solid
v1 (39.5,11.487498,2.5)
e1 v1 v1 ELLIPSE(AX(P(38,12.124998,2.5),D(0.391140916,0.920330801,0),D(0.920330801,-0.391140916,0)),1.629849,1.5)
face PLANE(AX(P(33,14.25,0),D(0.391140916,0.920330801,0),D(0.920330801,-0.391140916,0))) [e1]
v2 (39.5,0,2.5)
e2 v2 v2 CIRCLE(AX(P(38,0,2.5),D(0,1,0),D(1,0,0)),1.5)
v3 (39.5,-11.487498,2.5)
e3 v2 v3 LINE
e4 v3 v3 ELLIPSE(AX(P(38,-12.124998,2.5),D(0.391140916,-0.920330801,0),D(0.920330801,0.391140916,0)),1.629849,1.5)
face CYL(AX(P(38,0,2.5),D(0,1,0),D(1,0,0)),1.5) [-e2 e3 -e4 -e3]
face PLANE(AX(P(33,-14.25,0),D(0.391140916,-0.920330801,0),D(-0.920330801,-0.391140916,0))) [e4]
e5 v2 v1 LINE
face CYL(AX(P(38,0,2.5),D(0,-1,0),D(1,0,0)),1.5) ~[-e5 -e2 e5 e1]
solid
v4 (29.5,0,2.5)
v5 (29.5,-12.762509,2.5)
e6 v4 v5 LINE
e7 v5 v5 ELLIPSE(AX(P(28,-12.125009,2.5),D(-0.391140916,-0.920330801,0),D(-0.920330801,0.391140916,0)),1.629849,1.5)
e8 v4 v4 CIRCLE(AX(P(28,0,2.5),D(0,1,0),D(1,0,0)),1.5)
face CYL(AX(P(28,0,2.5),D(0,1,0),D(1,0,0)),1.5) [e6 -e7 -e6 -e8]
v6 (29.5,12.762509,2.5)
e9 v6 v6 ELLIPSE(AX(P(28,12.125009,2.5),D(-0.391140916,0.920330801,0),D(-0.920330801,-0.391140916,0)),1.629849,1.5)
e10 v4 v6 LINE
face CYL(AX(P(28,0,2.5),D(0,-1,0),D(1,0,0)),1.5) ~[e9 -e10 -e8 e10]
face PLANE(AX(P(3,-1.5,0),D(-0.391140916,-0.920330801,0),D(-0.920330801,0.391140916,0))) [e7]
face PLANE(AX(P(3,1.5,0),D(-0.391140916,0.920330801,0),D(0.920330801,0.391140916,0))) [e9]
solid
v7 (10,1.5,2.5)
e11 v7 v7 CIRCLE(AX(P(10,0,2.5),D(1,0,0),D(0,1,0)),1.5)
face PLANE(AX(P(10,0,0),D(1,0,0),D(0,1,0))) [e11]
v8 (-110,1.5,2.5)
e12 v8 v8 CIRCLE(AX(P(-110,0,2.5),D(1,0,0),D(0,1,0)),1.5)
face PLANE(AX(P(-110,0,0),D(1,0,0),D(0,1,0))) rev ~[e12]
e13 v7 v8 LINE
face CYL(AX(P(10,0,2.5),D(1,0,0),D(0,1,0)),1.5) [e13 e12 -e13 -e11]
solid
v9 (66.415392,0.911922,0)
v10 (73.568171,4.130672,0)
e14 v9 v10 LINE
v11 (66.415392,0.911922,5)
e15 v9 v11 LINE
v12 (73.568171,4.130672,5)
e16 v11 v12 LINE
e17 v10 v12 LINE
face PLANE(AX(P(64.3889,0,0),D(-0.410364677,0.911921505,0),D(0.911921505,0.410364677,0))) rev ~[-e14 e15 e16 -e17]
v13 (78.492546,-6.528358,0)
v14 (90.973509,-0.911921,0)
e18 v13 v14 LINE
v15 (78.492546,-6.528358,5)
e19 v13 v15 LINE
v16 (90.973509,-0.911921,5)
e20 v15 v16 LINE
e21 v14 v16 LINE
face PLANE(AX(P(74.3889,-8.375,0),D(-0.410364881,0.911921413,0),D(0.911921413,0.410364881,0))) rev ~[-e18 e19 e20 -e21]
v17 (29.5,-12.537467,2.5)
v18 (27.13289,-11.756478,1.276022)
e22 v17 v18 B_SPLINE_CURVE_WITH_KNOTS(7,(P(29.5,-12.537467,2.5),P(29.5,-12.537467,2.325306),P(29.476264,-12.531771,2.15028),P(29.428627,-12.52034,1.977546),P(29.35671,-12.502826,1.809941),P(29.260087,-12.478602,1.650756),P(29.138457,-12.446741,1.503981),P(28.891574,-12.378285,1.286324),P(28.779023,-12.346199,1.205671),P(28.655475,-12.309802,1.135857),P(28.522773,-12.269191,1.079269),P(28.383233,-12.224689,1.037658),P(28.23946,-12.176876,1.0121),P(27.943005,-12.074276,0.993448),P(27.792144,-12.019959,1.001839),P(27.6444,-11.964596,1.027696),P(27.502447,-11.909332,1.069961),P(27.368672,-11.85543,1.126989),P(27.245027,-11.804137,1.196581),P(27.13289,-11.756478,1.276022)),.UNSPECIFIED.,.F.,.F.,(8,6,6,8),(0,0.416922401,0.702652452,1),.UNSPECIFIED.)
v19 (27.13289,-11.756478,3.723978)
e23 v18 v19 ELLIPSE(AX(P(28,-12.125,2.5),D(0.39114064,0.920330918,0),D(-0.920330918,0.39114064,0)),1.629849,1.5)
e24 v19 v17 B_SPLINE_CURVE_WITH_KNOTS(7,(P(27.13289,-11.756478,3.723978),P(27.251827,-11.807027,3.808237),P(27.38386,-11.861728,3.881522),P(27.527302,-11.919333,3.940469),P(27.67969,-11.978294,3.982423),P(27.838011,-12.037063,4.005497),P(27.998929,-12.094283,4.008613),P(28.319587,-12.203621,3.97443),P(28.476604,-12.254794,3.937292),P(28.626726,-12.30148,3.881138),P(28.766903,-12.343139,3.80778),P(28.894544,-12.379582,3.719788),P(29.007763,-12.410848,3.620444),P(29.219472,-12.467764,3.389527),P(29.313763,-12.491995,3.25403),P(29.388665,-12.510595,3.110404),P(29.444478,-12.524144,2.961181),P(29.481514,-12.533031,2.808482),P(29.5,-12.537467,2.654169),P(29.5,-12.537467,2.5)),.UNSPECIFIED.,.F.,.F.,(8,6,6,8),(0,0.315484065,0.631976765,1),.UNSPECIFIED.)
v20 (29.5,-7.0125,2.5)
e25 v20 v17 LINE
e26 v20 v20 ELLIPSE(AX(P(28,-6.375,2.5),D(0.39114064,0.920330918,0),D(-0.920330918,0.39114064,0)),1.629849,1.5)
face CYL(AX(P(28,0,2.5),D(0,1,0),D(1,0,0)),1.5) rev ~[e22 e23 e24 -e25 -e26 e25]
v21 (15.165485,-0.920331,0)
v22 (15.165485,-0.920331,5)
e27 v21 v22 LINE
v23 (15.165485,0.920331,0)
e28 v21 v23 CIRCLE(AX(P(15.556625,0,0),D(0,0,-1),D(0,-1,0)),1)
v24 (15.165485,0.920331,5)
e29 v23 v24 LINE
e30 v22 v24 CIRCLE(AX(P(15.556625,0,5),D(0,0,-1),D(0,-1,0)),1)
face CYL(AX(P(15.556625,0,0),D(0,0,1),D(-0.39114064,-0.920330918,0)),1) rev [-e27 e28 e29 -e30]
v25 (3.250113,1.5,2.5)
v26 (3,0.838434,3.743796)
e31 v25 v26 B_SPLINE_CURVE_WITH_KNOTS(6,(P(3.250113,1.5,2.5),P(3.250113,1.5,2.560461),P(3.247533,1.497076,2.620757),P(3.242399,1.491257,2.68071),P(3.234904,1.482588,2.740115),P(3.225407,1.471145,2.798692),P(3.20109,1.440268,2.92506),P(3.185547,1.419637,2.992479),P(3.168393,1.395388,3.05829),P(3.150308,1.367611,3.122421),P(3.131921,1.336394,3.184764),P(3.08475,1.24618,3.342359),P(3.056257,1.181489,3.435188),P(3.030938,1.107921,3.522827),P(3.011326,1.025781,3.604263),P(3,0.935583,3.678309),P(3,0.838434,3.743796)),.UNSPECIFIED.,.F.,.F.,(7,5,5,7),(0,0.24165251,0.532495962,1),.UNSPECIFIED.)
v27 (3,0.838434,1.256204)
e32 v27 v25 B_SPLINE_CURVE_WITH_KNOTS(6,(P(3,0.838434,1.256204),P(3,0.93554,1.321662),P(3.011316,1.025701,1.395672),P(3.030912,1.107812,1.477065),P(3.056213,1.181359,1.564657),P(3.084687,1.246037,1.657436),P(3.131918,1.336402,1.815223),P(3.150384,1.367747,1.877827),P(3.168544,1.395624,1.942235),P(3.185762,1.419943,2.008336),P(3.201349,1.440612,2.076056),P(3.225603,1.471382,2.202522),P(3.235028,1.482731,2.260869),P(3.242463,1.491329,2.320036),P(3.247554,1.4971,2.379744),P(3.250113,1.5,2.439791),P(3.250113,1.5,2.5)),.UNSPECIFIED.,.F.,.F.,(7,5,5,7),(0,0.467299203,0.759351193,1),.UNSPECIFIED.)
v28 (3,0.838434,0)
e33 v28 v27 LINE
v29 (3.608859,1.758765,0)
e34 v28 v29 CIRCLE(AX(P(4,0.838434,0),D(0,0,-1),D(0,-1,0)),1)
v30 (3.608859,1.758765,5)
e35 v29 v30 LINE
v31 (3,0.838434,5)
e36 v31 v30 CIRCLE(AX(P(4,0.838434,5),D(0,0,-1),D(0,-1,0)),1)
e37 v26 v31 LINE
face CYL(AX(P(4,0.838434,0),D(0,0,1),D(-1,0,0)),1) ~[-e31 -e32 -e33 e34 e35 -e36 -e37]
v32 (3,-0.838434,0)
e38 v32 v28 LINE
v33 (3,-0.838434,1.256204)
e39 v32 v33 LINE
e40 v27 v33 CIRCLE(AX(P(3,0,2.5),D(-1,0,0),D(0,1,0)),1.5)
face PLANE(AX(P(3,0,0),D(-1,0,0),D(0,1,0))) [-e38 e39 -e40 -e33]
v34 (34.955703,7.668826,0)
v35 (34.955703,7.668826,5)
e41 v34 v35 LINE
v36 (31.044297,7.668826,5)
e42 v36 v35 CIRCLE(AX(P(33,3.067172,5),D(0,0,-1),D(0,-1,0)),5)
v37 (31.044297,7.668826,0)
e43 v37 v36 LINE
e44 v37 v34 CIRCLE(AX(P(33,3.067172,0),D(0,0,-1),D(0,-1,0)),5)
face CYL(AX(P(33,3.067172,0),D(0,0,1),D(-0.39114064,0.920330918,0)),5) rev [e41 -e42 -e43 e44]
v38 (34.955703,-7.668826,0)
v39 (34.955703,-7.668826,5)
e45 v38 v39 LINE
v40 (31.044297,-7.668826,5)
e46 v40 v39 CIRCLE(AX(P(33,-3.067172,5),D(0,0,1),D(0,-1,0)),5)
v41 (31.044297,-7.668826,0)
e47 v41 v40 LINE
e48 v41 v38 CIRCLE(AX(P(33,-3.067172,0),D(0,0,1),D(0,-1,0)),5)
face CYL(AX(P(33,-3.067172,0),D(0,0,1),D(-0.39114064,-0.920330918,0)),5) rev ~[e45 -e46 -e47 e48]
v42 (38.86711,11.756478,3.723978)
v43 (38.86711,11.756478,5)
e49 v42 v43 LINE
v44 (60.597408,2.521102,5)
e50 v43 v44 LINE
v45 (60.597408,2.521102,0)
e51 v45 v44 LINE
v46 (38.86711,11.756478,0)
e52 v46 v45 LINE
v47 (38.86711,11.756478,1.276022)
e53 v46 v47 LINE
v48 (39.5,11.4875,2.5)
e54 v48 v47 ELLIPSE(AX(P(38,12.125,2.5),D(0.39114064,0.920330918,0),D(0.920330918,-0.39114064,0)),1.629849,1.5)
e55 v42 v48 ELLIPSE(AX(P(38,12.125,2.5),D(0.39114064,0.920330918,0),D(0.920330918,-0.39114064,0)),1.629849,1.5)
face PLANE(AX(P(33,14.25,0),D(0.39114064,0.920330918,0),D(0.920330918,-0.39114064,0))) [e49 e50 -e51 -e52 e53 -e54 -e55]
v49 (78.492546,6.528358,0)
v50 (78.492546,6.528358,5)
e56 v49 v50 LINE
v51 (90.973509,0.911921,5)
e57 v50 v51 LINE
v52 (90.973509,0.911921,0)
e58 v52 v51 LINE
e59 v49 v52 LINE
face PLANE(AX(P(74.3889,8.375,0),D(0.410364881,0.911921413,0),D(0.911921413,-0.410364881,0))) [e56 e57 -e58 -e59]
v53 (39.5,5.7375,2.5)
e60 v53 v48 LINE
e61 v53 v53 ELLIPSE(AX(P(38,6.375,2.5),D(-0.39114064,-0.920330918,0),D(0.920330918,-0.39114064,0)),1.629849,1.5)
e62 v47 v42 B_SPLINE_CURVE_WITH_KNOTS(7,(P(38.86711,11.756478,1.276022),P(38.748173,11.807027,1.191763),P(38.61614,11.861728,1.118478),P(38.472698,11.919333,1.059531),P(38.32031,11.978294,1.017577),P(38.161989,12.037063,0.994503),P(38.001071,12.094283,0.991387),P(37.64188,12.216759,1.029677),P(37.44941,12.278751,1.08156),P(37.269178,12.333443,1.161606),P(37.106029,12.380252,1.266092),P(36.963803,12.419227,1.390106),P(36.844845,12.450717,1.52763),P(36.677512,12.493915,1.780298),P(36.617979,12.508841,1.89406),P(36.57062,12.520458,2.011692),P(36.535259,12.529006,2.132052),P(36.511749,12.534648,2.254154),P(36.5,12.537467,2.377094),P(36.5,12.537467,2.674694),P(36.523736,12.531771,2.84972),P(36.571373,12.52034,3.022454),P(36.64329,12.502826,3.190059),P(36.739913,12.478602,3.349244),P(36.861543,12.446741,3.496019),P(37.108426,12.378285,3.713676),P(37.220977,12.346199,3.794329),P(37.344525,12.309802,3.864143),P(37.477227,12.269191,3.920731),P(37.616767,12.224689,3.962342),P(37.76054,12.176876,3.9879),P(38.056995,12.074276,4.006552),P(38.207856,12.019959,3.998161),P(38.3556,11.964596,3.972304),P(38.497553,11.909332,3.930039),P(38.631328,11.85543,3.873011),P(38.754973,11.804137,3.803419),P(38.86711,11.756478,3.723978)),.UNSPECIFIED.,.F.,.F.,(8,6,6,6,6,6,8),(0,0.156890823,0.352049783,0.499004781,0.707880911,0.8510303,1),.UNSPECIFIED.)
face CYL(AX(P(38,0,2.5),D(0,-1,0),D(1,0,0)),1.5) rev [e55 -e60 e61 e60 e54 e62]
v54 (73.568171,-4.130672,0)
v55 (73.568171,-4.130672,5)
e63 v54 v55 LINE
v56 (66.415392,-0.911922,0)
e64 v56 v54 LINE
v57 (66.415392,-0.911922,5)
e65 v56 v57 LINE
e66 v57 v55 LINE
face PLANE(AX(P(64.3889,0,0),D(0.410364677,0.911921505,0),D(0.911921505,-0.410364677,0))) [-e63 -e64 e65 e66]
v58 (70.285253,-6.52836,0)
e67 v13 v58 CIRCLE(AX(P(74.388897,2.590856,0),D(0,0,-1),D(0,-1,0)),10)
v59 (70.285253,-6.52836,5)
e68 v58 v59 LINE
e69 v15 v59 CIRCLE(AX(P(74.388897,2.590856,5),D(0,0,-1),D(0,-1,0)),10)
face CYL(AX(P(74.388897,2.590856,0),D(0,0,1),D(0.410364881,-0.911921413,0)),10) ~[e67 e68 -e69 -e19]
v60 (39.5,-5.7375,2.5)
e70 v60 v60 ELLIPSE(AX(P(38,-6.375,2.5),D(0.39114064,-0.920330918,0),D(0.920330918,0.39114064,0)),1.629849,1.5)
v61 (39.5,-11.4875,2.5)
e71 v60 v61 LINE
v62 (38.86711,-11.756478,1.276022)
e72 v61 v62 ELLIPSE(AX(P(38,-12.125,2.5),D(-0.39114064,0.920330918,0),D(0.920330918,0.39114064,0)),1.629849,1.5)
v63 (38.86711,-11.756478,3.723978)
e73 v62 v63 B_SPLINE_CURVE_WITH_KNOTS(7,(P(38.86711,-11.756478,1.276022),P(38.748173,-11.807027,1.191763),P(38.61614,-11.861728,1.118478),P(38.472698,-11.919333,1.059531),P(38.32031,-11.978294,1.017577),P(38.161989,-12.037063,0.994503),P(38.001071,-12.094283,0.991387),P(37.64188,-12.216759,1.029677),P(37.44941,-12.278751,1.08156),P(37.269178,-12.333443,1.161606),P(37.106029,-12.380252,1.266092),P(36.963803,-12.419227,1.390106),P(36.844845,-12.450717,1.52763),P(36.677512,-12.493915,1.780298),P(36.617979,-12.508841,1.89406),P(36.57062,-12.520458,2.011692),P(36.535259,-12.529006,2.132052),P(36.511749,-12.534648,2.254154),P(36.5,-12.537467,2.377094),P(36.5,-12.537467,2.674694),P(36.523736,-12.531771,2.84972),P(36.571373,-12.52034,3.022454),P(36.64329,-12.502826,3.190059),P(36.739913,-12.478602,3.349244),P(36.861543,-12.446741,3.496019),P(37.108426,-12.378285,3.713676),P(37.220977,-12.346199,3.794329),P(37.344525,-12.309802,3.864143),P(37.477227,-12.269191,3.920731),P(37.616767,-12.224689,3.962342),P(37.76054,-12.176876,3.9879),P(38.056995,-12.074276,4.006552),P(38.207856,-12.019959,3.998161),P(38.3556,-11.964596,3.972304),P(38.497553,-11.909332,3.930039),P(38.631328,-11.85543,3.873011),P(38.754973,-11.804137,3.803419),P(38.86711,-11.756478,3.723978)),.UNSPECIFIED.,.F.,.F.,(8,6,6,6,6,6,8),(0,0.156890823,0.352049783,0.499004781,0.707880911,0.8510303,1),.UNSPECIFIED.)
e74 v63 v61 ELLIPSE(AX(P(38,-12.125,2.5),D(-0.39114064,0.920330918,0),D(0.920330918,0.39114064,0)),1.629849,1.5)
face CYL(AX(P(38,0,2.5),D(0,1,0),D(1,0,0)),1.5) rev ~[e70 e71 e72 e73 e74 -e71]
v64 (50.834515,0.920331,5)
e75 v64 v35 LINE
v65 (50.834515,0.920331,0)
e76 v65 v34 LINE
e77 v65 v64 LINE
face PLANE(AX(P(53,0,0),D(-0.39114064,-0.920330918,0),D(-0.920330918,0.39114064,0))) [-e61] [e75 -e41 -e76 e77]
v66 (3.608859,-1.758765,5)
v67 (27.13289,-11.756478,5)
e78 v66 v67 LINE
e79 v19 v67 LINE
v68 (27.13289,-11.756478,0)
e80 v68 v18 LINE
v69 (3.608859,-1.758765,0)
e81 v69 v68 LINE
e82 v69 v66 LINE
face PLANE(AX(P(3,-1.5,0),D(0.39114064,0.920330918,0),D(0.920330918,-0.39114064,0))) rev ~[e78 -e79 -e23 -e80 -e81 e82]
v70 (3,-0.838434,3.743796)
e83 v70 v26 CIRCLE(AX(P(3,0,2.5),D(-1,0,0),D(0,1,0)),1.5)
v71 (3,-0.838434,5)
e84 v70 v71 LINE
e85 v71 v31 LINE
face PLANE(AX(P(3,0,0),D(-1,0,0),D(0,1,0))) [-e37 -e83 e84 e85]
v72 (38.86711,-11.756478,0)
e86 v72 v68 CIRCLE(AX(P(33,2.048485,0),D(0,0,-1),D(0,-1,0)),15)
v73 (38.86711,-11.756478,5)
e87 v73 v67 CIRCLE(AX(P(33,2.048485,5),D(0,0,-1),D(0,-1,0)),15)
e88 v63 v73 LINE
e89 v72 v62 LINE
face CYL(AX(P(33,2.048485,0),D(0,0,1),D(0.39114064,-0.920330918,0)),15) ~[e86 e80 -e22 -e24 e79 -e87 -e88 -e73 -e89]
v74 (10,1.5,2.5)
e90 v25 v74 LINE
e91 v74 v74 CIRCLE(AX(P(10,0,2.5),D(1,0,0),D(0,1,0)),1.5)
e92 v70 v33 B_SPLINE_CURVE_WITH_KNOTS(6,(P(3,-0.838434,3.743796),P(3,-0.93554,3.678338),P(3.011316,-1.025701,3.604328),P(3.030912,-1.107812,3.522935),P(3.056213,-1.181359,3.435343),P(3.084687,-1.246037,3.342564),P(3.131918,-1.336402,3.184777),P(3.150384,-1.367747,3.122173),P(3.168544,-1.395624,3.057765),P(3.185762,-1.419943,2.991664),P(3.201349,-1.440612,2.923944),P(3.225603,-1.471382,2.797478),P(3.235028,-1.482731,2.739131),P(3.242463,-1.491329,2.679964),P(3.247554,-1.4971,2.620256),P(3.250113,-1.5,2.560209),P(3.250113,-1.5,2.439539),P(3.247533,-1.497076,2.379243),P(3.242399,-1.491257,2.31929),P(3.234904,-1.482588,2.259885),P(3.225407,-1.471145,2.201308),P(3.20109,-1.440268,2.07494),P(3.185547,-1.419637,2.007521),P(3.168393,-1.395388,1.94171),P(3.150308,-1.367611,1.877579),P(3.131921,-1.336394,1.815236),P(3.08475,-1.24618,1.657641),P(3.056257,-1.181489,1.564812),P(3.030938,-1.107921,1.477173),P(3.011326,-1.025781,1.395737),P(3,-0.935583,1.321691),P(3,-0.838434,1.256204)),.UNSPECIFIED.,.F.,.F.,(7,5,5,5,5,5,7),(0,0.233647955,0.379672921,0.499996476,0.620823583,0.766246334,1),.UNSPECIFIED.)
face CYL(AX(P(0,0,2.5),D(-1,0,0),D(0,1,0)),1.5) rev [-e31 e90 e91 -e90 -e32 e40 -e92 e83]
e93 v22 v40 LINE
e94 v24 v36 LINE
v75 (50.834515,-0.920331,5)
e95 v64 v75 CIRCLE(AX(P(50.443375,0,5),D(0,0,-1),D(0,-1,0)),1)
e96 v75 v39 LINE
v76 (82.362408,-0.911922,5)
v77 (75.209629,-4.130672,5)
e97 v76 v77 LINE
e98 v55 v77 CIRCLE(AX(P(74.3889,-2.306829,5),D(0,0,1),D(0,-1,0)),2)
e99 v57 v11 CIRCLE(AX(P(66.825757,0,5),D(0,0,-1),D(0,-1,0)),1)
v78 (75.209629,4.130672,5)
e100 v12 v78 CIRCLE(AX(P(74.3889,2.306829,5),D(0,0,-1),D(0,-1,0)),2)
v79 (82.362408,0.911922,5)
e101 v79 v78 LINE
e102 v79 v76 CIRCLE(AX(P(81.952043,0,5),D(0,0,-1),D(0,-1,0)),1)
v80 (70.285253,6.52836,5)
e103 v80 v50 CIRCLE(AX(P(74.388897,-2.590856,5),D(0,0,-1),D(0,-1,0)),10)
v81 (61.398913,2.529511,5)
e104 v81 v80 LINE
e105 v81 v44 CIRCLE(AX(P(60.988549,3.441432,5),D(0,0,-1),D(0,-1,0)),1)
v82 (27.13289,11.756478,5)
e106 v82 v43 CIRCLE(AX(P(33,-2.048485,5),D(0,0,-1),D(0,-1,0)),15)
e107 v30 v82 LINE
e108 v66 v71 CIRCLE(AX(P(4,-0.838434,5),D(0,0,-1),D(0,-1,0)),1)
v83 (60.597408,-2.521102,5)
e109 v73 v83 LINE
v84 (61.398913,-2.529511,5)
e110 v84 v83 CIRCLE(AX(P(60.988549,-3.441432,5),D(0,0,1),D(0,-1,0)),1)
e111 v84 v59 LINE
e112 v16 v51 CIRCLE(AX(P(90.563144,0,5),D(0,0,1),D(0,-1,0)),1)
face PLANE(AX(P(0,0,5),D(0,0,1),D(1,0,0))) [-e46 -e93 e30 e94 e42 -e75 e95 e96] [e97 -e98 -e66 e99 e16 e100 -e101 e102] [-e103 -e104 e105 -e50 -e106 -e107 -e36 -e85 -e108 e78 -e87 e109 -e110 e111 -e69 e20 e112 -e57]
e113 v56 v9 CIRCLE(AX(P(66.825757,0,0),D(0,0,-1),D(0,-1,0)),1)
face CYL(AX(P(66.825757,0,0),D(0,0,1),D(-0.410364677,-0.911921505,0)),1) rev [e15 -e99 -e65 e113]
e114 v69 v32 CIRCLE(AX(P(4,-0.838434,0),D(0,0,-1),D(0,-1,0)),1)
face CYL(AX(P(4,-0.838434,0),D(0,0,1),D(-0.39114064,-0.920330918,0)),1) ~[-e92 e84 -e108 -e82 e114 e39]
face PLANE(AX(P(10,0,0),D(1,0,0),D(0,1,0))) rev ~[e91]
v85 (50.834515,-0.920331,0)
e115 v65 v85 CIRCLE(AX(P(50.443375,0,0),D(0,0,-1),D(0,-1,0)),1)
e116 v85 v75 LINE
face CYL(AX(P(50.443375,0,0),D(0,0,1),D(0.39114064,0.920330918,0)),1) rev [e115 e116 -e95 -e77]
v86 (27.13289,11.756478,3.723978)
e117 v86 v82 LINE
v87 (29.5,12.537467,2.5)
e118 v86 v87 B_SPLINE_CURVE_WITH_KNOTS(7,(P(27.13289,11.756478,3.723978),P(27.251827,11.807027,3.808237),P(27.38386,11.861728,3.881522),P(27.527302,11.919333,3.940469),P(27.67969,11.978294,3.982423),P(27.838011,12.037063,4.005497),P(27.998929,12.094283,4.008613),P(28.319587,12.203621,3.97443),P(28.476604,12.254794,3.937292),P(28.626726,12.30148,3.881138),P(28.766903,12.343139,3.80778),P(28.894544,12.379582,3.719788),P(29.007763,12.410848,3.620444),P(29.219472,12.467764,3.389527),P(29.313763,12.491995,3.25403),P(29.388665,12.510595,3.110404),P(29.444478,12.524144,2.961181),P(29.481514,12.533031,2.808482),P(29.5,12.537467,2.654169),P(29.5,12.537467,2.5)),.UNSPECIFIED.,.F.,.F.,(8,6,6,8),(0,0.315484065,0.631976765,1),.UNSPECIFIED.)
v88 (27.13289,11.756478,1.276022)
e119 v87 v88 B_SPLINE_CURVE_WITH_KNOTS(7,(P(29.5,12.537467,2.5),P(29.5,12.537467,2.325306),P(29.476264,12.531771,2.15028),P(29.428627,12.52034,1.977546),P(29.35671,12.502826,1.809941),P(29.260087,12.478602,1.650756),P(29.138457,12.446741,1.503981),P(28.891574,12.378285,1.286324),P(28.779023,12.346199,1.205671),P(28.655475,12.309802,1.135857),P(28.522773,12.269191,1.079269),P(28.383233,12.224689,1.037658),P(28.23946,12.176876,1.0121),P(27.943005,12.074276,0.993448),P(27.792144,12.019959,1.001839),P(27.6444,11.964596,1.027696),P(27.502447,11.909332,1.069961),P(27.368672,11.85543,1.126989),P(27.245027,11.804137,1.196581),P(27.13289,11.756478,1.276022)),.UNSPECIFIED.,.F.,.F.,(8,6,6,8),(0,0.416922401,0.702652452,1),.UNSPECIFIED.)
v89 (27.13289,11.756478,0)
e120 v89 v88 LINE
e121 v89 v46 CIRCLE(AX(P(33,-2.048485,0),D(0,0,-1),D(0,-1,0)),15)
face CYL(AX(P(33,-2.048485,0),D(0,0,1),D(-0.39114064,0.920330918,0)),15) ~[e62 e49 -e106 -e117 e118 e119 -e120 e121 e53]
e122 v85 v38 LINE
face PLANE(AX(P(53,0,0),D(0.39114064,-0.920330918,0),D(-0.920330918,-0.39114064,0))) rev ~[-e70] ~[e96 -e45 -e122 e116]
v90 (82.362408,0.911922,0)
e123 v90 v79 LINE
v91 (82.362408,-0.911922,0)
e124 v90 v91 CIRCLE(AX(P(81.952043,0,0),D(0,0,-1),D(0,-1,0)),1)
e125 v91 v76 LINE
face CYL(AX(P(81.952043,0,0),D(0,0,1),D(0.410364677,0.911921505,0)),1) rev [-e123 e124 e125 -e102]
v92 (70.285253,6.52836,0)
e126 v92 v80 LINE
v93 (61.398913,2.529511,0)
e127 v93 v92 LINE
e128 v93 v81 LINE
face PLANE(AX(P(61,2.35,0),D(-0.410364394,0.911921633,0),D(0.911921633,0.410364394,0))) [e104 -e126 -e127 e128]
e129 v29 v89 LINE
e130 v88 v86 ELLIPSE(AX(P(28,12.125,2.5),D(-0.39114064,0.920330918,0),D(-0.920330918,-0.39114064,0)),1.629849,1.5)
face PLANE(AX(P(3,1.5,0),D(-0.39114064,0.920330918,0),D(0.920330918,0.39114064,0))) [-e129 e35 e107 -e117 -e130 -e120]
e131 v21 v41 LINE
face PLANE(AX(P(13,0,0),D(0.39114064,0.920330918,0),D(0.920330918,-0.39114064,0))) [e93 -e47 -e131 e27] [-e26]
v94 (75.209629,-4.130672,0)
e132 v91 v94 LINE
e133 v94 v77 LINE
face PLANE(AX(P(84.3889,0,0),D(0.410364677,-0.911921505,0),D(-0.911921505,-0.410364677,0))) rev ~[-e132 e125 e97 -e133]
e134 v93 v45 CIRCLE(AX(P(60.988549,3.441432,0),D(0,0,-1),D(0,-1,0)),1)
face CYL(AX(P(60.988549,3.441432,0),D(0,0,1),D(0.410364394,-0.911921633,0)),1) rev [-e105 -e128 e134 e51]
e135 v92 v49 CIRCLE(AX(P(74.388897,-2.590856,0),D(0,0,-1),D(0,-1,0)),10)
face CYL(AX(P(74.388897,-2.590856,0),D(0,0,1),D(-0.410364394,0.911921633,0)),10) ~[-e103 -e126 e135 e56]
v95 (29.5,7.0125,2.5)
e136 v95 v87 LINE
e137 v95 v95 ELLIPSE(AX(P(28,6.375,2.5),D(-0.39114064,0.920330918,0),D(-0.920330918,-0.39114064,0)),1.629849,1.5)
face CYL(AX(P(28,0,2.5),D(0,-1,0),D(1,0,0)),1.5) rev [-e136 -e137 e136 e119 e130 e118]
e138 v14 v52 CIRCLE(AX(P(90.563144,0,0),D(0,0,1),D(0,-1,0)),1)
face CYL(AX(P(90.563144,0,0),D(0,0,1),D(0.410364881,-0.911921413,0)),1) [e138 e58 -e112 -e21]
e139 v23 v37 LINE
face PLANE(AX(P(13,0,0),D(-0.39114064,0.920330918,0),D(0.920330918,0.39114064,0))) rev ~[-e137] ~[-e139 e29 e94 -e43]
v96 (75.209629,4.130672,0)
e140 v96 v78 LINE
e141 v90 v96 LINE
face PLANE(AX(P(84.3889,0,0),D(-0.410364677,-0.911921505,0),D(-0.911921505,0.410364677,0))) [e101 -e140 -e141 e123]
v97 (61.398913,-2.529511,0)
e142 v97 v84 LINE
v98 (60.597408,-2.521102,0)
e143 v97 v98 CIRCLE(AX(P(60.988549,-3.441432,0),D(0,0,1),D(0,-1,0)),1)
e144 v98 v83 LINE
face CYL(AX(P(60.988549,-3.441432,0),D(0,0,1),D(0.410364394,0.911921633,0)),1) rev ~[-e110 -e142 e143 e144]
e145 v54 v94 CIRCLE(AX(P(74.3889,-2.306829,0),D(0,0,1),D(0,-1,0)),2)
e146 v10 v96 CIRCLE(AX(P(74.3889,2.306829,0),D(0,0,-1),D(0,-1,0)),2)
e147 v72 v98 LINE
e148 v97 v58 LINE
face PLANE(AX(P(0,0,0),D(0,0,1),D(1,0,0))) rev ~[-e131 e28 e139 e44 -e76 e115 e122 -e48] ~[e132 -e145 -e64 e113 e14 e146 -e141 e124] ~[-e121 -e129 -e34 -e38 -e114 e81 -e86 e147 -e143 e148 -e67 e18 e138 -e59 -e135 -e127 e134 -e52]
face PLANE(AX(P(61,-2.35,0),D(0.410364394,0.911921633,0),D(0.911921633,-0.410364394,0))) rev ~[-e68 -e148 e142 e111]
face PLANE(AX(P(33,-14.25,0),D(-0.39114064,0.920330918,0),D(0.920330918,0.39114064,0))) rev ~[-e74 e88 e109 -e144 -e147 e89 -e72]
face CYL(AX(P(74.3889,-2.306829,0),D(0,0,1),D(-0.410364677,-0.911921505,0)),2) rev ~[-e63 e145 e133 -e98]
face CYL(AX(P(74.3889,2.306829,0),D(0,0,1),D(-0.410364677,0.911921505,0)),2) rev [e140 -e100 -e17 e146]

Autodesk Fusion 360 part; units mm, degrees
sketch "スケッチ1" plane through (0, 0, 0) normal (0, 0, 1) x (1, 0, 0)
  line L0 (0, 0) -> (210, 0) construction
  dimension "d1" = 210
sketch "スケッチ1 (2)" plane through (0, 0, 0) normal (0, 0, 1) x (1, 0, 0) in component "decoration"
  line L0 (0, 0) -> (93, 0) construction
  line L1 (33, 14.25) -> (33, -8.5) construction
  line L2 (13, 0) -> (33, 8.5)
  line L3 (13, 0) -> (33, -8.5)
  line L4 (53, 0) -> (33, 8.5)
  line L5 (53, 0) -> (33, -8.5)
  line L6 (3, 0) -> (3, 1.5)
  line L7 (3, 1.5) -> (33, 14.25)
  line L8 (74.3889, 8.375) -> (74.3889, -4.5) construction
  line L9 (64.3889, 0) -> (74.3889, 4.5)
  line L10 (64.3889, 0) -> (74.3889, -4.5)
  line L11 (84.3889, 0) -> (74.3889, 4.5)
  line L12 (84.3889, 0) -> (74.3889, -4.5)
  line L13 (33, 14.25) -> (61, 2.35)
  line L14 (61, 0) -> (61, 2.35) construction
  line L15 (61, 2.35) -> (74.3889, 8.375)
  line L16 (74.3889, 8.375) -> (93, 0)
  line L17 (3, 0) -> (3, -1.5)
  line L18 (3, -1.5) -> (33, -14.25)
  line L19 (33, -14.25) -> (61, -2.35)
  line L20 (61, -2.35) -> (74.3889, -8.375)
  line L21 (74.3889, -8.375) -> (93, 0)
  dimension "d4" = 93
  dimension "d5" = 17
  dimension "d6" = 13
  dimension "d7" = 20
  dimension "d8" = 1.5
  dimension "d9" = 3
  dimension "d10" = 9
  dimension "d12" = 10
  dimension "d14" = 8
extrude "押し出し2" add sketch "スケッチ1 (2)" along normal blind 5 makes body 1 in component "decoration"
fillet "フィレット1" radius 15 2 edges at (33, -14.25, 2.5) (33, 14.25, 2.5) on bodies 1 in component "decoration"
fillet "フィレット2" radius 10 2 edges at (74.3889, 8.375, 2.5) (74.3889, -8.375, 2.5) on bodies 1 in component "decoration"
fillet "フィレット3" radius 1 1 edges at (93, 0, 2.5) on bodies 1 in component "decoration"
fillet "フィレット4" radius 1 2 edges at (84.3889, 0, 2.5) (64.3889, 0, 2.5) on bodies 1 in component "decoration"
fillet "フィレット5" radius 2 2 edges at (74.3889, 4.5, 2.5) (74.3889, -4.5, 2.5) on bodies 1 in component "decoration"
fillet "フィレット6" radius 1 2 edges at (13, 0, 2.5) (53, 0, 2.5) on bodies 1 in component "decoration"
fillet "フィレット7" radius 5 2 edges at (33, 8.5, 2.5) (33, -8.5, 2.5) on bodies 1 in component "decoration"
fillet "フィレット8" radius 1 1 edges at (61, 2.35, 2.5) on bodies 1 in component "decoration"
fillet "フィレット8" radius 1 1 edges at (61, -2.35, 2.5) on bodies 1 in component "decoration"
fillet "フィレット9" radius 1 2 edges at (3, -1.5, 2.5) (3, 1.5, 2.5) on bodies 1 in component "decoration"
sketch "スケッチ4" plane through (0, 0, 0) normal (0, 1, 0) x (1, 0, 0) in component "decoration"
  line L0 (0, 0) -> (33, 0) construction
  line L1 (33, 0) -> (33, -2.5) construction
  line L2 (28, -2.5) -> (38, -2.5) construction
  circle A0 centre (28, -2.5) radius 1.5
  circle A1 centre (38, -2.5) radius 1.5
  dimension "d44" = 2.5
  dimension "d45" = 33
  dimension "d46" = 10
  dimension "d47" = 3
  dimension "d48" = 3
extrude "押し出し3" cut sketch "スケッチ4" against normal blind 18 bodies 1 in component "decoration"
extrude "押し出し4" cut sketch "スケッチ4" along normal blind 22 bodies 1 in component "decoration"
extrude "押し出し1" add sketch "スケッチ4" along normal up to surface separate body contours A0 end surface through (3, -1.5, 0) normal (-0.391141, -0.920331, 0) offset 0 makes body 2 in component "center piller"
extrude "押し出し2'" add sketch "スケッチ4" along normal up to surface separate body contours A1 end surface through (33, -14.25, 0) normal (0.391141, -0.920331, 0) offset 0 makes body 3 in component "center piller"
extrude "押し出し3'" add sketch "スケッチ4" along normal up to surface contours A0 end surface through (3, 1.5, 0) normal (-0.391141, 0.920331, 0) offset 0 bodies 2 in component "center piller"
extrude "押し出し4'" add sketch "スケッチ4" along normal up to surface contours A1 end surface through (33, 14.25, 0) normal (0.391141, 0.920331, 0) offset 0 bodies 3 in component "center piller"
sketch "スケッチ5" plane through (0, 0, 0) normal (1, 0, 0) x (0, 1, 0) in component "decoration"
  line L0 (0, 0) -> (0, 2.5) construction
  circle A0 centre (0, 2.5) radius 1.5
  dimension "d61" = 2.5
  dimension "d62" = 3
extrude "押し出し5" cut sketch "スケッチ5" along normal blind 10 bodies 1 in component "decoration"
extrude "押し出し1'" add 1 faces at (10, 0.4297, 2.7088) along direction (-1, 0, 0) blind 120 separate body on bodies 1 makes body 4 in component "pin"
component "decoration" placed x (1, 0, 0) y (0, 1, 0) z (0, 0, 1) at (0, 0, 0)
component "center piller" placed x (1, 0, 0) y (0, 1, 0) z (0, 0, 1) at (0, 0, 0)
component "pin" placed x (1, 0, 0) y (0, 1, 0) z (0, 0, 1) at (0, 0, 0)
